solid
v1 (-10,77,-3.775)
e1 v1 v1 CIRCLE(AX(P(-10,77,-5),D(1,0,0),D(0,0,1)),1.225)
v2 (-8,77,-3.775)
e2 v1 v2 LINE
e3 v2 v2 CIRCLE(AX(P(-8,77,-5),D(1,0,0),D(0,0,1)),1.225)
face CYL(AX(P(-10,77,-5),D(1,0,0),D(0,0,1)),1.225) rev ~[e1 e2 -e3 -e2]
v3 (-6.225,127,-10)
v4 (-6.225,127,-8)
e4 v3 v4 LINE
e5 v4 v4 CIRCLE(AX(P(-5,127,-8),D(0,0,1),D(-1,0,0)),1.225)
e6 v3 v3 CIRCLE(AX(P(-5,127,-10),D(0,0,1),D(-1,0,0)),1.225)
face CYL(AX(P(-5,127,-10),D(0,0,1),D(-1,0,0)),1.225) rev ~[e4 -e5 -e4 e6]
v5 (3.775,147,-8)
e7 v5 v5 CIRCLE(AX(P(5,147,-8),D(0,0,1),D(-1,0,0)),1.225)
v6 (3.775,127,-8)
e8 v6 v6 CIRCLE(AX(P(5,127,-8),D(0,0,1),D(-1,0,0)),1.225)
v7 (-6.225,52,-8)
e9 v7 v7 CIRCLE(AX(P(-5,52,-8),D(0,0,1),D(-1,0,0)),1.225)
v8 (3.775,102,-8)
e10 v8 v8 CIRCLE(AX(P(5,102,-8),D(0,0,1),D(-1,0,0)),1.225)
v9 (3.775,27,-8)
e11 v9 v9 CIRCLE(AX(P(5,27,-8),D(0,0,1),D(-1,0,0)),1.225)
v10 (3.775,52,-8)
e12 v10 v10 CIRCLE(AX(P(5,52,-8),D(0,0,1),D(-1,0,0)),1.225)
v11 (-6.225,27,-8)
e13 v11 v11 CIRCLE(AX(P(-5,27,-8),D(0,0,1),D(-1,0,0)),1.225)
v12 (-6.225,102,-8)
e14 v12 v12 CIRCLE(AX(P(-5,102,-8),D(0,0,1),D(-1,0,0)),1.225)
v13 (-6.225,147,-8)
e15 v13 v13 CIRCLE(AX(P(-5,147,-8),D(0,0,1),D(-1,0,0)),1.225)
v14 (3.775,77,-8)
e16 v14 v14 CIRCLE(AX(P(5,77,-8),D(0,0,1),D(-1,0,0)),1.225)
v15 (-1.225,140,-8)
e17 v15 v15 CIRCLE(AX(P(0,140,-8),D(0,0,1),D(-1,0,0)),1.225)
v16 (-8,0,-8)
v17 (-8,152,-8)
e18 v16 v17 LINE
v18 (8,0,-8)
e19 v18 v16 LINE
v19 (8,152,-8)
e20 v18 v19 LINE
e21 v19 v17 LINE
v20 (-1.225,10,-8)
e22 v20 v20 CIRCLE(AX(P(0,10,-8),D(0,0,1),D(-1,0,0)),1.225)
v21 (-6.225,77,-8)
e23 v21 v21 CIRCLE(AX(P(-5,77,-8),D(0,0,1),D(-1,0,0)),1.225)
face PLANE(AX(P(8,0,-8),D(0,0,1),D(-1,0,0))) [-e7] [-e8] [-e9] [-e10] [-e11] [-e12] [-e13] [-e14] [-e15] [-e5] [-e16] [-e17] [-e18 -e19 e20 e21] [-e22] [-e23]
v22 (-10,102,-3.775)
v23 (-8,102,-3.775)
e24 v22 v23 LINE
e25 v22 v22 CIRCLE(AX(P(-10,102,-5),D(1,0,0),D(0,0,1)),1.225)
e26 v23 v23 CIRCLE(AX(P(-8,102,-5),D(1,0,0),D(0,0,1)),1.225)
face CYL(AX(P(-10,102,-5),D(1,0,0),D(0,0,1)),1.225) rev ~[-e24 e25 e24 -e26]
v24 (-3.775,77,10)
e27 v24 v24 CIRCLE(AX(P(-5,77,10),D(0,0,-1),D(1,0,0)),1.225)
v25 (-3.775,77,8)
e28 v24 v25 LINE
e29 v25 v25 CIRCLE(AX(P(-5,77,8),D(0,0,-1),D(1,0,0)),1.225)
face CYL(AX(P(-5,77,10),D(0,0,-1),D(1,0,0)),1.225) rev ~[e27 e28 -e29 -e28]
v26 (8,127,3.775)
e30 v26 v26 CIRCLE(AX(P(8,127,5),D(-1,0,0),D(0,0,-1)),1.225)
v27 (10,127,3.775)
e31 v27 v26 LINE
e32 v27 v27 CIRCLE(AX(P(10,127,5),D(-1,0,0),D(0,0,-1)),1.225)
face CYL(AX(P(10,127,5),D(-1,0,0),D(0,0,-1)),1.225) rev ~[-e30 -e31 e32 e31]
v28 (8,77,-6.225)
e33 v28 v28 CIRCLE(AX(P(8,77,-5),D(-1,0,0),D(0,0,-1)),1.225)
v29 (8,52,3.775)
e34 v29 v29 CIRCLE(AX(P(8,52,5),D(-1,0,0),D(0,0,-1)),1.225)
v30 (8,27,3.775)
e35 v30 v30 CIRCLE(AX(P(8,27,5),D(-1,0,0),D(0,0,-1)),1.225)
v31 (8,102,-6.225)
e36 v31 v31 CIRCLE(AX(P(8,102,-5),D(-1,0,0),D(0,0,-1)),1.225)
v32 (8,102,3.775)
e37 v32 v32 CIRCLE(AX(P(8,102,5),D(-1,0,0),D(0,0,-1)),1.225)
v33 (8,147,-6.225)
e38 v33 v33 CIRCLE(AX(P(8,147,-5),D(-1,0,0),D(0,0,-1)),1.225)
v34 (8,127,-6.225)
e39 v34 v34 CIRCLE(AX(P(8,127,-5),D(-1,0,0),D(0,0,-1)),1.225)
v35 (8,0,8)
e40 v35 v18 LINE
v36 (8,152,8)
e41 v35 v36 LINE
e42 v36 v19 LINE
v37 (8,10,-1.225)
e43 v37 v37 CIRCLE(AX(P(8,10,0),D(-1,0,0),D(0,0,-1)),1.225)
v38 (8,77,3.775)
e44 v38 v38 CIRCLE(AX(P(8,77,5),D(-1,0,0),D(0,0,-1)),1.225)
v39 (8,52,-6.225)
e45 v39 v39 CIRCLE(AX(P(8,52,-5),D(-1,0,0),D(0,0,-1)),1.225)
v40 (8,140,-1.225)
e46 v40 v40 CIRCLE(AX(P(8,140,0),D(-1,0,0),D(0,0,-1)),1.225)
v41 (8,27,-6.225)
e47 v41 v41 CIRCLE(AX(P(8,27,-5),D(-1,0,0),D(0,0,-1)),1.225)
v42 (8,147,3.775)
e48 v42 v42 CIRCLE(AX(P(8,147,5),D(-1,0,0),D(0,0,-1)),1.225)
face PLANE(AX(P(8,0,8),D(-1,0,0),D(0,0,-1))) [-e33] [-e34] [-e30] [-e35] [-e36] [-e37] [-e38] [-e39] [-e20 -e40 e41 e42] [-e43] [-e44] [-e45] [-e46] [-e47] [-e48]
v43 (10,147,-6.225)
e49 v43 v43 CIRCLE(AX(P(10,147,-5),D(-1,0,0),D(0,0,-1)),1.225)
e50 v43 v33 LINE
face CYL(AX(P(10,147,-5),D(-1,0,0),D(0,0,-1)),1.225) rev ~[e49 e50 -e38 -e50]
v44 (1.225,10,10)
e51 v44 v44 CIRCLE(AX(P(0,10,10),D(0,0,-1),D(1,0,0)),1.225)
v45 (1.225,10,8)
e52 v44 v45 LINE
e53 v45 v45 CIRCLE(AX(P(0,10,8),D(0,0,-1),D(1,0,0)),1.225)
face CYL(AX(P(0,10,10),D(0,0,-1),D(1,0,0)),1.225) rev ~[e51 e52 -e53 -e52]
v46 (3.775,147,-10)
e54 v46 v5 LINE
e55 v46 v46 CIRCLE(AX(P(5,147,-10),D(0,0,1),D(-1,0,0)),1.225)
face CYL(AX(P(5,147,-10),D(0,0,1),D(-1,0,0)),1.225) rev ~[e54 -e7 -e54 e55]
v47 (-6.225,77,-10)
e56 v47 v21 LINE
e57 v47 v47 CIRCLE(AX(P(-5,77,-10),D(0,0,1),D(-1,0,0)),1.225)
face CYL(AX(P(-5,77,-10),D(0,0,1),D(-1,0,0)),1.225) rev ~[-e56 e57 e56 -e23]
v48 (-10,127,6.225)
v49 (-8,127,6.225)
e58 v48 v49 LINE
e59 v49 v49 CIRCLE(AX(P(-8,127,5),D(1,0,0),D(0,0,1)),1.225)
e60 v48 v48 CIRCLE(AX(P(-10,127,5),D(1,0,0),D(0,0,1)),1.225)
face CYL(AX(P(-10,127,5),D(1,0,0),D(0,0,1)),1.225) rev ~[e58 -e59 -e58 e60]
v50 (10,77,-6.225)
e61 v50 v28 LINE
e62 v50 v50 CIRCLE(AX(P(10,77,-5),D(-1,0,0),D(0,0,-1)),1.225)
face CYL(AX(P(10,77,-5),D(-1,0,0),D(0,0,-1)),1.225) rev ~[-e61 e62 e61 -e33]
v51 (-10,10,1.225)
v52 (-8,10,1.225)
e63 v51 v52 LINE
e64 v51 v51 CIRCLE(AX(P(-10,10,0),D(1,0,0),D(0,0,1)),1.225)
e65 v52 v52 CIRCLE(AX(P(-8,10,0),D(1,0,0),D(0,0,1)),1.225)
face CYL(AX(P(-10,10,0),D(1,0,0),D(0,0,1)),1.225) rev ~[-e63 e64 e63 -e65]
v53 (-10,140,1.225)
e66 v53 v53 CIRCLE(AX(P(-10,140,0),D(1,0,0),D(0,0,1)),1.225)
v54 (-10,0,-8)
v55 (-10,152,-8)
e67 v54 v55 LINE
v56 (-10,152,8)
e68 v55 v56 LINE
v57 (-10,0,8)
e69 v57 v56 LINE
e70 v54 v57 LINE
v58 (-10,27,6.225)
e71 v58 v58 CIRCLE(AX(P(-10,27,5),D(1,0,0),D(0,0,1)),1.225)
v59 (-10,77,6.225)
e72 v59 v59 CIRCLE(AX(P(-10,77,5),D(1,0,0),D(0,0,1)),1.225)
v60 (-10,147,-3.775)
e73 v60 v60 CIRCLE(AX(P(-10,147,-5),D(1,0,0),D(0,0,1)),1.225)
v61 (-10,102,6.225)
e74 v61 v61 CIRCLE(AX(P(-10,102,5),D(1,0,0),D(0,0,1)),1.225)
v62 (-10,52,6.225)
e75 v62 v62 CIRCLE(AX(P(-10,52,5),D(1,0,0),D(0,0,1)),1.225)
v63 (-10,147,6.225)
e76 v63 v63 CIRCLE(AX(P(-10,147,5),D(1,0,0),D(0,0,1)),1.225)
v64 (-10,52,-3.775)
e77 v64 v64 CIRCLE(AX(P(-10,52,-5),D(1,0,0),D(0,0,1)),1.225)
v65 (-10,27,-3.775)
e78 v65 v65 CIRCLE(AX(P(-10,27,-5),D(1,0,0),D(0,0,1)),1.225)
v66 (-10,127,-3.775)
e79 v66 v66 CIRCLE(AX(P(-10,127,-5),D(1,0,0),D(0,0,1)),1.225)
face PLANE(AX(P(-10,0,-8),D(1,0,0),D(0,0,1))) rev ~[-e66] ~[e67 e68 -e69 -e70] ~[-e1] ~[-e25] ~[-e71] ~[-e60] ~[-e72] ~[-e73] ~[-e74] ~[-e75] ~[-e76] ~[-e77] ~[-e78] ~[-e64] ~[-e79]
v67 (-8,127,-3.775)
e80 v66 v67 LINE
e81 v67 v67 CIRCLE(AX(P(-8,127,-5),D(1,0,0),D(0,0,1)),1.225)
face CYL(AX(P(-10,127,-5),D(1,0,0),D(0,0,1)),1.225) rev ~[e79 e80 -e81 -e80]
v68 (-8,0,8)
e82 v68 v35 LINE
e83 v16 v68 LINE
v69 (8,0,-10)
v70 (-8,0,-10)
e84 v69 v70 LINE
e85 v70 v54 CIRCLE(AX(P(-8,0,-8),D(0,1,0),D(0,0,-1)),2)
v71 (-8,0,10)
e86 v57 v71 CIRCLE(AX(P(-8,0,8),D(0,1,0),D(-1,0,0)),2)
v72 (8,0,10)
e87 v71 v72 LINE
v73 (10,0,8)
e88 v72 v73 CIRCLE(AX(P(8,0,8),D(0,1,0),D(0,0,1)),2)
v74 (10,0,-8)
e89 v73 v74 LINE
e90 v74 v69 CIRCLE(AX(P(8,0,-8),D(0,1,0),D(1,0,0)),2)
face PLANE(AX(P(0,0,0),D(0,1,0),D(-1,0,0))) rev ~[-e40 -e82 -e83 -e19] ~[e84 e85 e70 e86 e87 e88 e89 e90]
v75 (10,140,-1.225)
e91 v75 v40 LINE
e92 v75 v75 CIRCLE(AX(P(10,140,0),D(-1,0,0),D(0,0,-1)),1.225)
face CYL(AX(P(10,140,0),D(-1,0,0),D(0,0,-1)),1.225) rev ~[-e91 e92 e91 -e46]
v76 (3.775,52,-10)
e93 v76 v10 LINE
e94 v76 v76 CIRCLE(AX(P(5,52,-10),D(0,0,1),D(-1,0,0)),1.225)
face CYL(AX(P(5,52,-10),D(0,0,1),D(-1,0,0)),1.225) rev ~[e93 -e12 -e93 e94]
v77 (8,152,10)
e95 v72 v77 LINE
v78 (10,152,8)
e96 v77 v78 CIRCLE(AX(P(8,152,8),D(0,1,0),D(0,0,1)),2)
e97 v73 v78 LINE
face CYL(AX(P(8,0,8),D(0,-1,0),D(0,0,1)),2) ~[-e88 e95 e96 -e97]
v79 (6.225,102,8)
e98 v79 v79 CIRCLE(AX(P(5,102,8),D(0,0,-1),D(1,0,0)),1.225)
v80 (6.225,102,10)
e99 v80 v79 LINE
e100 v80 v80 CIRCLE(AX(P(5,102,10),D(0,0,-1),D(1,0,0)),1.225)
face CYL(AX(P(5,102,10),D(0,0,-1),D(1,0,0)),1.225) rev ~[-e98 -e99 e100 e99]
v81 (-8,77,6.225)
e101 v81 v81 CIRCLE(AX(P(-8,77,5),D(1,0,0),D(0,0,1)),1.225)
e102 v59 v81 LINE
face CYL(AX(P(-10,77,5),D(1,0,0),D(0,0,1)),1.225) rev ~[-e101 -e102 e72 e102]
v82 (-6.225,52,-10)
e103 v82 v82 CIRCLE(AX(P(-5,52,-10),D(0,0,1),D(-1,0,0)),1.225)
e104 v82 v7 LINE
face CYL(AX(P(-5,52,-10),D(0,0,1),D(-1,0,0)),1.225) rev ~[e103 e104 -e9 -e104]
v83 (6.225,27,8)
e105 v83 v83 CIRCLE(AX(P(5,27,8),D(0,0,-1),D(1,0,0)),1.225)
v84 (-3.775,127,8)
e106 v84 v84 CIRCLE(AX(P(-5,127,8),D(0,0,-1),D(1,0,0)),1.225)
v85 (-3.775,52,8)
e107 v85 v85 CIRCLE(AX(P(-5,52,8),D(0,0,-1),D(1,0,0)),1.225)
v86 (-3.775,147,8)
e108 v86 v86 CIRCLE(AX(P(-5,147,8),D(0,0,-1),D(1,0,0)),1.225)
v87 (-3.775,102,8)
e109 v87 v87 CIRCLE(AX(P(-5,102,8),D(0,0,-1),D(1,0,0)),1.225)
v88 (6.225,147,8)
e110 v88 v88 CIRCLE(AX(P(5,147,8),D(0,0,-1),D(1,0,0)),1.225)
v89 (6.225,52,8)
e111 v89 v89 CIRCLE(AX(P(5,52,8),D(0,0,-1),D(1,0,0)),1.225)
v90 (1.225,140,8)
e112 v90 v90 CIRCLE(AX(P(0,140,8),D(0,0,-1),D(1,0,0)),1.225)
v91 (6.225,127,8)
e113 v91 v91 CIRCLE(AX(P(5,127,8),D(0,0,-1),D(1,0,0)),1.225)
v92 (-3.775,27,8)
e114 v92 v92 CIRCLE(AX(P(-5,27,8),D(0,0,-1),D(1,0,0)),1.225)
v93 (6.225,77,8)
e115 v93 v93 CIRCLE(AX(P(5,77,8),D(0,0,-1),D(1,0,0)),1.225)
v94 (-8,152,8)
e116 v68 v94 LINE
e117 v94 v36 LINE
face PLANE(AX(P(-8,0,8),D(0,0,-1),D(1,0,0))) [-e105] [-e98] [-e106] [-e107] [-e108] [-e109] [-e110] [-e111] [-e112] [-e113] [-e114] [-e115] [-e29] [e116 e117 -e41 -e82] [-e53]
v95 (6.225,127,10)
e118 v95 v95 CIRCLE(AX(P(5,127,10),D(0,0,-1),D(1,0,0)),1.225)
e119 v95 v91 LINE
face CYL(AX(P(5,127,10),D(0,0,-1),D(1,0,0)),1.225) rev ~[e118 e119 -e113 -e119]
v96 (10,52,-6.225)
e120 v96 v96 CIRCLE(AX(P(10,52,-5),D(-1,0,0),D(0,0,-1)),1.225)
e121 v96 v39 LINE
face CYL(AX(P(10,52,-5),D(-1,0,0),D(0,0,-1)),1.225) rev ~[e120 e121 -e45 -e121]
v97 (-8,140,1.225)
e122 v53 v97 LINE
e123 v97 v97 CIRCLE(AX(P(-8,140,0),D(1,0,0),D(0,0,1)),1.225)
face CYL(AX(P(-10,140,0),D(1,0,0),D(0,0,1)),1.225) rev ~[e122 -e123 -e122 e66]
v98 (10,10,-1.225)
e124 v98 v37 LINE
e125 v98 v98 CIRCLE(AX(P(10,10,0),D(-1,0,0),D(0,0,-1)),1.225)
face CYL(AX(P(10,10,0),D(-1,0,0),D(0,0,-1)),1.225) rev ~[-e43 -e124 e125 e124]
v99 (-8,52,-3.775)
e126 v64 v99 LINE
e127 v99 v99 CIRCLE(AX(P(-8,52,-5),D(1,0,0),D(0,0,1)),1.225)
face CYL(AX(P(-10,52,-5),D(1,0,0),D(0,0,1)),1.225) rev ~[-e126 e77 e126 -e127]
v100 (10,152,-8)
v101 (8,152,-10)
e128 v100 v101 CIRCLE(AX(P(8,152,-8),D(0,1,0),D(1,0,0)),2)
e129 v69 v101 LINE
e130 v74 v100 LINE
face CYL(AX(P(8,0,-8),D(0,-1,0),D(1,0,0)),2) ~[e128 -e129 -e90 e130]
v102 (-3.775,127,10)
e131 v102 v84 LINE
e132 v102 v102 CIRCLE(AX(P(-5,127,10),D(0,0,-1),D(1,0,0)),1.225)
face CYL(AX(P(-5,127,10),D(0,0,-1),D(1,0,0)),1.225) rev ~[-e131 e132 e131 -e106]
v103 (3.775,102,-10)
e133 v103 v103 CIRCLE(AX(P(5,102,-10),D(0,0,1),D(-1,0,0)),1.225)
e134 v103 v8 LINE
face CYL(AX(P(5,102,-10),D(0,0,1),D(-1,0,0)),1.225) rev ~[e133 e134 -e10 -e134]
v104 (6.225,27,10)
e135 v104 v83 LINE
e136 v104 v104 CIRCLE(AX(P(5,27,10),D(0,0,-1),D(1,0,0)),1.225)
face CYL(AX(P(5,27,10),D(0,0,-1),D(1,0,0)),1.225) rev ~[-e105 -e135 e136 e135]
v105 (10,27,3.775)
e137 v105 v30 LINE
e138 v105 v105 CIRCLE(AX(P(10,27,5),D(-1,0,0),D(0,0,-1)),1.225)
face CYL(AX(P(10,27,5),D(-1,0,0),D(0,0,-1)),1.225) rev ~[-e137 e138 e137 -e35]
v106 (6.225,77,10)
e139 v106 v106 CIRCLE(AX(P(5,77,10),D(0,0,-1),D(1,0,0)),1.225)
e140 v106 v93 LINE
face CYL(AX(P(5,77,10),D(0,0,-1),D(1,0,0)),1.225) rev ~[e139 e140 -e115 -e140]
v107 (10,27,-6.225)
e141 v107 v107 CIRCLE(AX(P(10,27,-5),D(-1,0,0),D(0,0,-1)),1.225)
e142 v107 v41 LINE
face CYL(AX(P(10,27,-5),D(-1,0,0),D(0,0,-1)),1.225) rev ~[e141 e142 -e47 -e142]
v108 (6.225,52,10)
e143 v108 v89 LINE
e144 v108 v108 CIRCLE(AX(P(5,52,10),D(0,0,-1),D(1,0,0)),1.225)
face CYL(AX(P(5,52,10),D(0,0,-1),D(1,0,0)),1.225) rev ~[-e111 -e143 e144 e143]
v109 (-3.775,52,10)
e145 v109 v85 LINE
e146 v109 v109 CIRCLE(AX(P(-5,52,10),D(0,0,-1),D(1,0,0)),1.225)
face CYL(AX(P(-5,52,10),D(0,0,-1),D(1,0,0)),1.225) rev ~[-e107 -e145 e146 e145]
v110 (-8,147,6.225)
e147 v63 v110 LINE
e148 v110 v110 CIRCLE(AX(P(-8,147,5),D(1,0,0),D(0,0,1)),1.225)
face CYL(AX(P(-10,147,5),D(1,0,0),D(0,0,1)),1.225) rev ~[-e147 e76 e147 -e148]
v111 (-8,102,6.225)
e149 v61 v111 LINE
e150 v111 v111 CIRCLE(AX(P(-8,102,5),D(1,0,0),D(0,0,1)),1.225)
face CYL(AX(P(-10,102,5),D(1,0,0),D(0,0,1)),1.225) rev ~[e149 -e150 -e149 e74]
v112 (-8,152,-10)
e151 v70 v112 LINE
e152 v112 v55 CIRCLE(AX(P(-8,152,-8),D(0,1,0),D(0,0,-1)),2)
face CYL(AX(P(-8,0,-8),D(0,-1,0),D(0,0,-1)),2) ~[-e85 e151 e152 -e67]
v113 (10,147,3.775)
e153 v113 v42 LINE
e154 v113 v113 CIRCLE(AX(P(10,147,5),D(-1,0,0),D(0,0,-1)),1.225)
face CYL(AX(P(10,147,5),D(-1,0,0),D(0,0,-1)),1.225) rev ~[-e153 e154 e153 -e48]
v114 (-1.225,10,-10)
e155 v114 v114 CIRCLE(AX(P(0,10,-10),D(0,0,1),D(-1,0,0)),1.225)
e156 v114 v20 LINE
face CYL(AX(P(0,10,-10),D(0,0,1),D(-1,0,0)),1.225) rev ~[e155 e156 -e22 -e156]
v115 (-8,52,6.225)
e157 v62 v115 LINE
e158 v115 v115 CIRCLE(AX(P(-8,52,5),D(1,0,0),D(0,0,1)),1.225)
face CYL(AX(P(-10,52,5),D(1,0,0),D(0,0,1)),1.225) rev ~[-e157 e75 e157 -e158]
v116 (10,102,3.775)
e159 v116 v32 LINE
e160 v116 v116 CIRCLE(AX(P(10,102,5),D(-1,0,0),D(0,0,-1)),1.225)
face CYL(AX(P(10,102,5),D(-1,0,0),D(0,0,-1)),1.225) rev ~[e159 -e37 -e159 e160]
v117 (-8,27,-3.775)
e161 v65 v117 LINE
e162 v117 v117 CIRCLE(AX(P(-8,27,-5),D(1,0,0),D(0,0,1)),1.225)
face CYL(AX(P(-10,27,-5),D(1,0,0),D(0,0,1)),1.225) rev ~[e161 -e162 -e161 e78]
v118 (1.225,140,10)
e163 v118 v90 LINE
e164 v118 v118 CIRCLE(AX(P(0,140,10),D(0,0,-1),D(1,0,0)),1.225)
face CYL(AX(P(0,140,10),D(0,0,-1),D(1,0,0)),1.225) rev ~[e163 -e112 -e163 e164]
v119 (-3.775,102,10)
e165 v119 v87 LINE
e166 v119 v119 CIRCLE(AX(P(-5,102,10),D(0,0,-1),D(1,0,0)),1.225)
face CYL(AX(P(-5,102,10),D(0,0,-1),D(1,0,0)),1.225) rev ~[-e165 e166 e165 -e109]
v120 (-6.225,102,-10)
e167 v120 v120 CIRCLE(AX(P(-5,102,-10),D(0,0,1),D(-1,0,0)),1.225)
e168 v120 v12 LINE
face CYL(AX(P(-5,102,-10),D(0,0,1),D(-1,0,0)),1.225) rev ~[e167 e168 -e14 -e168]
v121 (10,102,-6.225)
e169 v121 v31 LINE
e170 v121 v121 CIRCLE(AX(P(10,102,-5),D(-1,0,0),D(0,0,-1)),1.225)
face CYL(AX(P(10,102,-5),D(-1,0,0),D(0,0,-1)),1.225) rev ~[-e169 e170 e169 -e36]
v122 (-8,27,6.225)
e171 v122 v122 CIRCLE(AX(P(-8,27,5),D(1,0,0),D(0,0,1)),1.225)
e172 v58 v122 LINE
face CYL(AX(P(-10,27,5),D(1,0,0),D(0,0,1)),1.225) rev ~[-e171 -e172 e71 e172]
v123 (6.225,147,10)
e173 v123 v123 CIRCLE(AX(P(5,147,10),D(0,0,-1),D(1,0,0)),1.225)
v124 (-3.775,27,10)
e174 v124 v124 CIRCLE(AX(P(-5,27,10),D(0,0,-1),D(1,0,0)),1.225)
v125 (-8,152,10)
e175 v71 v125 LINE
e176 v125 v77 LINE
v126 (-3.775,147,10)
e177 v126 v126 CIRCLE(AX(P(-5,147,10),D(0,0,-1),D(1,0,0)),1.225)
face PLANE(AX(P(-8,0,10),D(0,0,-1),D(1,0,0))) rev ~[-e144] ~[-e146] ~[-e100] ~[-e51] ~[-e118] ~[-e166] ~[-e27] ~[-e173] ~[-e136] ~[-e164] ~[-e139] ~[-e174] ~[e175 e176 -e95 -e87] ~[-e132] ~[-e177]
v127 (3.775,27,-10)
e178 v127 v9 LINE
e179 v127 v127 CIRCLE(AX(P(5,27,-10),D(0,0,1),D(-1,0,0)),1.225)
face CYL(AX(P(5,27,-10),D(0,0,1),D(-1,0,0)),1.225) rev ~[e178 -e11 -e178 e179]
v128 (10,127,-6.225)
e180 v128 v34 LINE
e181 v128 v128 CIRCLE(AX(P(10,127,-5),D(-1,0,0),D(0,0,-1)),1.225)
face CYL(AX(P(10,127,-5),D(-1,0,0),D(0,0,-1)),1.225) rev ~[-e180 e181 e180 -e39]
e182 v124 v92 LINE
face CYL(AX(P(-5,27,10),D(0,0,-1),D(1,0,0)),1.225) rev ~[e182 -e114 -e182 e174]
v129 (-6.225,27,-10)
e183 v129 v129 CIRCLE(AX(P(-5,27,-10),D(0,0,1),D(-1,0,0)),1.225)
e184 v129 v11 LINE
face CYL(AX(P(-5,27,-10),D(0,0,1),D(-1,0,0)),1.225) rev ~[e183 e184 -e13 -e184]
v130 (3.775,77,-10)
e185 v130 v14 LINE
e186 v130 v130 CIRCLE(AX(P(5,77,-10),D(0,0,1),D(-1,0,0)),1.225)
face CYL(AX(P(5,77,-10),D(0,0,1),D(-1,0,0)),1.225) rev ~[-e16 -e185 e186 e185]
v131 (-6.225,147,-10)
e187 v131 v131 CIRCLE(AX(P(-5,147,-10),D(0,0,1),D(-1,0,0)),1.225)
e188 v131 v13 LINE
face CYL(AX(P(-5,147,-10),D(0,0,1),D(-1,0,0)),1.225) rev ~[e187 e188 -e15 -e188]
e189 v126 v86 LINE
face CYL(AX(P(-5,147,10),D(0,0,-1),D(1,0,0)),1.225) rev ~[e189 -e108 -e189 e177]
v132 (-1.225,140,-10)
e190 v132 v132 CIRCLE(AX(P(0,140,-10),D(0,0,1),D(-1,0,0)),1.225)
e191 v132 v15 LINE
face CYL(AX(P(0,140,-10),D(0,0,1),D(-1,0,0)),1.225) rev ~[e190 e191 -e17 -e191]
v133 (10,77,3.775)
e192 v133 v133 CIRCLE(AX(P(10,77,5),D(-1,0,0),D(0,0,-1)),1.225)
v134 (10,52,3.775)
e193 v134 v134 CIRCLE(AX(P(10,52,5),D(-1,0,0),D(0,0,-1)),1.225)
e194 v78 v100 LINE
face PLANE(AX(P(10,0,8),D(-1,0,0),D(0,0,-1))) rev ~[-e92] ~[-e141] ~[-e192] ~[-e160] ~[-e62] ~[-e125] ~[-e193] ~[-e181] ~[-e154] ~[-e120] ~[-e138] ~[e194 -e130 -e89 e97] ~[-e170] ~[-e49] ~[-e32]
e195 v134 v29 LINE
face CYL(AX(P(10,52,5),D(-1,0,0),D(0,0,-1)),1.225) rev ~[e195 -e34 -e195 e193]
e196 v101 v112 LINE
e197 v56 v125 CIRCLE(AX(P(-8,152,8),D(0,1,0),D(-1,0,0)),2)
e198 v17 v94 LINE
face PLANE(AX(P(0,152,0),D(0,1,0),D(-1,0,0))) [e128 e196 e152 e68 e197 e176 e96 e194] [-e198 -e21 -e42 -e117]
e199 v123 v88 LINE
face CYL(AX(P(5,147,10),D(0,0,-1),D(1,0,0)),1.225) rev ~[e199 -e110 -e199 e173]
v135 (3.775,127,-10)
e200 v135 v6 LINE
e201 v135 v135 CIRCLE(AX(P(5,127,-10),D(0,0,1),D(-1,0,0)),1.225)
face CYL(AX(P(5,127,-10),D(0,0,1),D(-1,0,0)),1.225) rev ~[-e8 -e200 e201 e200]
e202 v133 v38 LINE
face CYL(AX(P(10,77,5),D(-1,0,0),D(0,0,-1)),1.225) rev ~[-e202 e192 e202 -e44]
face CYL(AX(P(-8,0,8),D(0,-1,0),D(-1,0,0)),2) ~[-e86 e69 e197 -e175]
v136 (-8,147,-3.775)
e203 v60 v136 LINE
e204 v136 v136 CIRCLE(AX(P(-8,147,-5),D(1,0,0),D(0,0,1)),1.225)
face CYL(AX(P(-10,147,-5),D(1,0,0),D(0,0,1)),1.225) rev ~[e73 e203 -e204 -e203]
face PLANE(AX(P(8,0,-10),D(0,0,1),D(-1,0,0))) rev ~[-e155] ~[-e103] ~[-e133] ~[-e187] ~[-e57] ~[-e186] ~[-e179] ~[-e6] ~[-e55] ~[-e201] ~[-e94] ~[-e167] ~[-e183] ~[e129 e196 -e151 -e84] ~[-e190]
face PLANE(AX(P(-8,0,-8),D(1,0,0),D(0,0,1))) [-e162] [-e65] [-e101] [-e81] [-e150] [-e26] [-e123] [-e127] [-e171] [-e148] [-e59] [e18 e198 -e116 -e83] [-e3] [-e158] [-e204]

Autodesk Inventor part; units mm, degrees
ref_plane "YZ Plane" through (0, 0, 0) normal (1, 0, 0) x (0, 1, 0)
ref_plane "XZ Plane" through (0, 0, 0) normal (0, 1, 0) x (-1, 0, 0)
ref_plane "XY Plane" through (0, 0, 0) normal (0, 0, 1) x (1, 0, 0)
sketch "Sketch1" plane through (0, 0, 0) normal (0, 1, 0) x (-1, 0, 0)
  line L0 (8, 10) -> (-8, 10)
  line L1 (-10, 8) -> (-10, -8)
  line L2 (-8, -10) -> (8, -10)
  line L3 (10, -8) -> (10, 8)
  line L4 (10, 10) -> (-10, -10) construction
  line L5 (-10, 10) -> (10, -10) construction
  line L6 (8, 8) -> (-8, 8)
  line L7 (-8, 8) -> (-8, -8)
  line L8 (-8, -8) -> (8, -8)
  line L9 (8, -8) -> (8, 8)
  arc A0 (10, 8) -> (8, 10) centre (8, 8) ccw
  arc A1 (8, -10) -> (10, -8) centre (8, -8) ccw
  arc A2 (-10, -8) -> (-8, -10) centre (-8, -8) ccw
  arc A3 (-8, 10) -> (-10, 8) centre (-8, 8) ccw
  point P0 (0, 0)
  dimension "d0" = 20
  dimension "d1" = 20
  dimension "d2" = 2
  dimension "d3" = 2
extrude "Extrusion1" add sketch "Sketch1" along normal blind 152
sketch "Sketch2" plane through (10, 0, 8) normal (1, 0, 0) x (0, 0, -1)
  line L0 (0, 0) -> (0, 152) projected
  line L1 (16, 0) -> (16, 152) projected
  line L2 (0, 0) -> (16, 0) projected
  line L3 (0, 152) -> (16, 152) projected
  line L4 (8, 29.2747) -> (8, 0) construction
  line L5 (8, 127) -> (8, 177) construction
  line L6 (8, 102) -> (8, 202) construction
  line L7 (8, 77) -> (8, 227) construction
  line L8 (8, 52) -> (8, 252) construction
  point P0 (8, 0)
  point P1 (8, 140)
  point P2 (8, 10)
  point P3 (3, 127)
  point P4 (3, 102)
  point P5 (3, 77)
  point P6 (3, 52)
  point P7 (3, 27)
  point P8 (13, 127)
  point P9 (13, 102)
  point P10 (13, 77)
  point P11 (13, 52)
  point P12 (13, 27)
  point P13 (3, 147)
  point P14 (13, 147)
  point P15 (8, 76)
  dimension "d6" = 140
  dimension "d7" = 8
  dimension "d22" = 142
  dimension "d23" = 5
  dimension "d24" = 127
  dimension "d27" = 127
  dimension "d130" = 10
  dimension "d159" = 147
  dimension "d160" = 76
hole "Hole1" at (10, 140, 0) at (10, 10, 0) direction (-1, 0, 0) diameter 2.45 depth 2
pattern_circular "Circular Pattern1" count 4 over 360 about axis through (0, -10, 0) along (0, 1, 0) of "Hole1"
thread "Thread1" size "M2.5x0.45" class "6H" standard "ANSI Metric M Profile" full length
thread "Thread2" size "M2.5x0.45" class "6H" standard "ANSI Metric M Profile" full length
hole "Hole2" at (10, 27, 5) at (10, 27, -5) at (10, 52, -5) at (10, 52, 5) at (10, 77, -5) at (10, 77, 5) at (10, 102, 5) at (10, 102, -5) at (10, 127, 5) at (10, 127, -5) direction (-1, 0, 0) diameter 2.45 depth 2
thread "Thread3" size "M2.5x0.45" class "6H" standard "ISO Metric profile" length 8
thread "Thread4" size "M2.5x0.45" class "6H" standard "ISO Metric profile" length 8
thread "Thread5" size "M2.5x0.45" class "6H" standard "ISO Metric profile" length 8
thread "Thread6" size "M2.5x0.45" class "6H" standard "ISO Metric profile" length 8
thread "Thread7" size "M2.5x0.45" class "6H" standard "ISO Metric profile" length 8
thread "Thread8" size "M2.5x0.45" class "6H" standard "ISO Metric profile" length 8
thread "Thread9" size "M2.5x0.45" class "6H" standard "ISO Metric profile" length 8
thread "Thread10" size "M2.5x0.45" class "6H" standard "ISO Metric profile" length 8
thread "Thread11" size "M2.5x0.45" class "6H" standard "ISO Metric profile" length 8
thread "Thread12" size "M2.5x0.45" class "6H" standard "ISO Metric profile" length 8
thread "Thread13" size "M2.5x0.45" class "6H" standard "ISO Metric profile" length 8
pattern_circular "Circular Pattern2" count 4 over 360 about axis through (0, -10, 0) along (0, 1, 0) of "Hole2"
thread "Thread14" size "M2.5x0.45" class "6H" standard "ISO Metric profile" length 8
thread "Thread15" size "M2.5x0.45" class "6H" standard "ISO Metric profile" length 8
thread "Thread16" size "M2.5x0.45" class "6H" standard "ISO Metric profile" length 8
thread "Thread17" size "M2.5x0.45" class "6H" standard "ISO Metric profile" length 8
thread "Thread18" size "M2.5x0.45" class "6H" standard "ISO Metric profile" length 8
thread "Thread19" size "M2.5x0.45" class "6H" standard "ISO Metric profile" length 8
thread "Thread20" size "M2.5x0.45" class "6H" standard "ISO Metric profile" length 8
thread "Thread21" size "M2.5x0.45" class "6H" standard "ISO Metric profile" length 8
thread "Thread22" size "M2.5x0.45" class "6H" standard "ISO Metric profile" length 8
thread "Thread23" size "M2.5x0.45" class "6H" standard "ISO Metric profile" length 8
thread "Thread24" size "M2.5x0.45" class "6H" standard "ISO Metric profile" length 8
thread "Thread25" size "M2.5x0.45" class "6H" standard "ISO Metric profile" length 8
thread "Thread26" size "M2.5x0.45" class "6H" standard "ISO Metric profile" length 8
thread "Thread27" size "M2.5x0.45" class "6H" standard "ISO Metric profile" length 8
thread "Thread28" size "M2.5x0.45" class "6H" standard "ISO Metric profile" length 8
thread "Thread29" size "M2.5x0.45" class "6H" standard "ISO Metric profile" length 8
thread "Thread30" size "M2.5x0.45" class "6H" standard "ISO Metric profile" length 8
thread "Thread31" size "M2.5x0.45" class "6H" standard "ISO Metric profile" length 8
thread "Thread32" size "M2.5x0.45" class "6H" standard "ISO Metric profile" length 8
thread "Thread33" size "M2.5x0.45" class "6H" standard "ISO Metric profile" length 8
thread "Thread34" size "M2.5x0.45" class "6H" standard "ISO Metric profile" length 8
thread "Thread35" size "M2.5x0.45" class "6H" standard "ISO Metric profile" length 8
thread "Thread36" size "M2.5x0.45" class "6H" standard "ISO Metric profile" length 8
thread "Thread37" size "M2.5x0.45" class "6H" standard "ISO Metric profile" length 8
thread "Thread38" size "M2.5x0.45" class "6H" standard "ISO Metric profile" length 8
thread "Thread39" size "M2.5x0.45" class "6H" standard "ISO Metric profile" length 8
thread "Thread40" size "M2.5x0.45" class "6H" standard "ISO Metric profile" length 8
thread "Thread41" size "M2.5x0.45" class "6H" standard "ISO Metric profile" length 8
thread "Thread42" size "M2.5x0.45" class "6H" standard "ISO Metric profile" length 8
thread "Thread43" size "M2.5x0.45" class "6H" standard "ISO Metric profile" length 8
thread "Thread44" size "M2.5x0.45" class "6H" standard "ISO Metric profile" length 8
thread "Thread45" size "M2.5x0.45" class "6H" standard "ISO Metric profile" length 8
thread "Thread46" size "M2.5x0.45" class "6H" standard "ISO Metric profile" length 8
hole "Hole3" at (10, 147, 5) at (10, 147, -5) direction (-1, 0, 0) diameter 2.45 depth 2
thread "Thread47" size "M2.5x0.45" class "6H" standard "ISO Metric profile" length 8
thread "Thread48" size "M2.5x0.45" class "6H" standard "ISO Metric profile" length 8
pattern_circular "Circular Pattern3" count 4 over 360 about axis through (0, -10, 0) along (0, 1, 0) of "Hole3"
thread "Thread49" size "M2.5x0.45" class "6H" standard "ISO Metric profile" length 8
thread "Thread50" size "M2.5x0.45" class "6H" standard "ISO Metric profile" length 8
thread "Thread51" size "M2.5x0.45" class "6H" standard "ISO Metric profile" length 9.967
thread "Thread52" size "M2.5x0.45" class "6H" standard "ISO Metric profile" length 9.967
thread "Thread53" size "M2.5x0.45" class "6H" standard "ISO Metric profile" length 9.967
thread "Thread54" size "M2.5x0.45" class "6H" standard "ISO Metric profile" length 9.967
properties part number "verticalaxle"
